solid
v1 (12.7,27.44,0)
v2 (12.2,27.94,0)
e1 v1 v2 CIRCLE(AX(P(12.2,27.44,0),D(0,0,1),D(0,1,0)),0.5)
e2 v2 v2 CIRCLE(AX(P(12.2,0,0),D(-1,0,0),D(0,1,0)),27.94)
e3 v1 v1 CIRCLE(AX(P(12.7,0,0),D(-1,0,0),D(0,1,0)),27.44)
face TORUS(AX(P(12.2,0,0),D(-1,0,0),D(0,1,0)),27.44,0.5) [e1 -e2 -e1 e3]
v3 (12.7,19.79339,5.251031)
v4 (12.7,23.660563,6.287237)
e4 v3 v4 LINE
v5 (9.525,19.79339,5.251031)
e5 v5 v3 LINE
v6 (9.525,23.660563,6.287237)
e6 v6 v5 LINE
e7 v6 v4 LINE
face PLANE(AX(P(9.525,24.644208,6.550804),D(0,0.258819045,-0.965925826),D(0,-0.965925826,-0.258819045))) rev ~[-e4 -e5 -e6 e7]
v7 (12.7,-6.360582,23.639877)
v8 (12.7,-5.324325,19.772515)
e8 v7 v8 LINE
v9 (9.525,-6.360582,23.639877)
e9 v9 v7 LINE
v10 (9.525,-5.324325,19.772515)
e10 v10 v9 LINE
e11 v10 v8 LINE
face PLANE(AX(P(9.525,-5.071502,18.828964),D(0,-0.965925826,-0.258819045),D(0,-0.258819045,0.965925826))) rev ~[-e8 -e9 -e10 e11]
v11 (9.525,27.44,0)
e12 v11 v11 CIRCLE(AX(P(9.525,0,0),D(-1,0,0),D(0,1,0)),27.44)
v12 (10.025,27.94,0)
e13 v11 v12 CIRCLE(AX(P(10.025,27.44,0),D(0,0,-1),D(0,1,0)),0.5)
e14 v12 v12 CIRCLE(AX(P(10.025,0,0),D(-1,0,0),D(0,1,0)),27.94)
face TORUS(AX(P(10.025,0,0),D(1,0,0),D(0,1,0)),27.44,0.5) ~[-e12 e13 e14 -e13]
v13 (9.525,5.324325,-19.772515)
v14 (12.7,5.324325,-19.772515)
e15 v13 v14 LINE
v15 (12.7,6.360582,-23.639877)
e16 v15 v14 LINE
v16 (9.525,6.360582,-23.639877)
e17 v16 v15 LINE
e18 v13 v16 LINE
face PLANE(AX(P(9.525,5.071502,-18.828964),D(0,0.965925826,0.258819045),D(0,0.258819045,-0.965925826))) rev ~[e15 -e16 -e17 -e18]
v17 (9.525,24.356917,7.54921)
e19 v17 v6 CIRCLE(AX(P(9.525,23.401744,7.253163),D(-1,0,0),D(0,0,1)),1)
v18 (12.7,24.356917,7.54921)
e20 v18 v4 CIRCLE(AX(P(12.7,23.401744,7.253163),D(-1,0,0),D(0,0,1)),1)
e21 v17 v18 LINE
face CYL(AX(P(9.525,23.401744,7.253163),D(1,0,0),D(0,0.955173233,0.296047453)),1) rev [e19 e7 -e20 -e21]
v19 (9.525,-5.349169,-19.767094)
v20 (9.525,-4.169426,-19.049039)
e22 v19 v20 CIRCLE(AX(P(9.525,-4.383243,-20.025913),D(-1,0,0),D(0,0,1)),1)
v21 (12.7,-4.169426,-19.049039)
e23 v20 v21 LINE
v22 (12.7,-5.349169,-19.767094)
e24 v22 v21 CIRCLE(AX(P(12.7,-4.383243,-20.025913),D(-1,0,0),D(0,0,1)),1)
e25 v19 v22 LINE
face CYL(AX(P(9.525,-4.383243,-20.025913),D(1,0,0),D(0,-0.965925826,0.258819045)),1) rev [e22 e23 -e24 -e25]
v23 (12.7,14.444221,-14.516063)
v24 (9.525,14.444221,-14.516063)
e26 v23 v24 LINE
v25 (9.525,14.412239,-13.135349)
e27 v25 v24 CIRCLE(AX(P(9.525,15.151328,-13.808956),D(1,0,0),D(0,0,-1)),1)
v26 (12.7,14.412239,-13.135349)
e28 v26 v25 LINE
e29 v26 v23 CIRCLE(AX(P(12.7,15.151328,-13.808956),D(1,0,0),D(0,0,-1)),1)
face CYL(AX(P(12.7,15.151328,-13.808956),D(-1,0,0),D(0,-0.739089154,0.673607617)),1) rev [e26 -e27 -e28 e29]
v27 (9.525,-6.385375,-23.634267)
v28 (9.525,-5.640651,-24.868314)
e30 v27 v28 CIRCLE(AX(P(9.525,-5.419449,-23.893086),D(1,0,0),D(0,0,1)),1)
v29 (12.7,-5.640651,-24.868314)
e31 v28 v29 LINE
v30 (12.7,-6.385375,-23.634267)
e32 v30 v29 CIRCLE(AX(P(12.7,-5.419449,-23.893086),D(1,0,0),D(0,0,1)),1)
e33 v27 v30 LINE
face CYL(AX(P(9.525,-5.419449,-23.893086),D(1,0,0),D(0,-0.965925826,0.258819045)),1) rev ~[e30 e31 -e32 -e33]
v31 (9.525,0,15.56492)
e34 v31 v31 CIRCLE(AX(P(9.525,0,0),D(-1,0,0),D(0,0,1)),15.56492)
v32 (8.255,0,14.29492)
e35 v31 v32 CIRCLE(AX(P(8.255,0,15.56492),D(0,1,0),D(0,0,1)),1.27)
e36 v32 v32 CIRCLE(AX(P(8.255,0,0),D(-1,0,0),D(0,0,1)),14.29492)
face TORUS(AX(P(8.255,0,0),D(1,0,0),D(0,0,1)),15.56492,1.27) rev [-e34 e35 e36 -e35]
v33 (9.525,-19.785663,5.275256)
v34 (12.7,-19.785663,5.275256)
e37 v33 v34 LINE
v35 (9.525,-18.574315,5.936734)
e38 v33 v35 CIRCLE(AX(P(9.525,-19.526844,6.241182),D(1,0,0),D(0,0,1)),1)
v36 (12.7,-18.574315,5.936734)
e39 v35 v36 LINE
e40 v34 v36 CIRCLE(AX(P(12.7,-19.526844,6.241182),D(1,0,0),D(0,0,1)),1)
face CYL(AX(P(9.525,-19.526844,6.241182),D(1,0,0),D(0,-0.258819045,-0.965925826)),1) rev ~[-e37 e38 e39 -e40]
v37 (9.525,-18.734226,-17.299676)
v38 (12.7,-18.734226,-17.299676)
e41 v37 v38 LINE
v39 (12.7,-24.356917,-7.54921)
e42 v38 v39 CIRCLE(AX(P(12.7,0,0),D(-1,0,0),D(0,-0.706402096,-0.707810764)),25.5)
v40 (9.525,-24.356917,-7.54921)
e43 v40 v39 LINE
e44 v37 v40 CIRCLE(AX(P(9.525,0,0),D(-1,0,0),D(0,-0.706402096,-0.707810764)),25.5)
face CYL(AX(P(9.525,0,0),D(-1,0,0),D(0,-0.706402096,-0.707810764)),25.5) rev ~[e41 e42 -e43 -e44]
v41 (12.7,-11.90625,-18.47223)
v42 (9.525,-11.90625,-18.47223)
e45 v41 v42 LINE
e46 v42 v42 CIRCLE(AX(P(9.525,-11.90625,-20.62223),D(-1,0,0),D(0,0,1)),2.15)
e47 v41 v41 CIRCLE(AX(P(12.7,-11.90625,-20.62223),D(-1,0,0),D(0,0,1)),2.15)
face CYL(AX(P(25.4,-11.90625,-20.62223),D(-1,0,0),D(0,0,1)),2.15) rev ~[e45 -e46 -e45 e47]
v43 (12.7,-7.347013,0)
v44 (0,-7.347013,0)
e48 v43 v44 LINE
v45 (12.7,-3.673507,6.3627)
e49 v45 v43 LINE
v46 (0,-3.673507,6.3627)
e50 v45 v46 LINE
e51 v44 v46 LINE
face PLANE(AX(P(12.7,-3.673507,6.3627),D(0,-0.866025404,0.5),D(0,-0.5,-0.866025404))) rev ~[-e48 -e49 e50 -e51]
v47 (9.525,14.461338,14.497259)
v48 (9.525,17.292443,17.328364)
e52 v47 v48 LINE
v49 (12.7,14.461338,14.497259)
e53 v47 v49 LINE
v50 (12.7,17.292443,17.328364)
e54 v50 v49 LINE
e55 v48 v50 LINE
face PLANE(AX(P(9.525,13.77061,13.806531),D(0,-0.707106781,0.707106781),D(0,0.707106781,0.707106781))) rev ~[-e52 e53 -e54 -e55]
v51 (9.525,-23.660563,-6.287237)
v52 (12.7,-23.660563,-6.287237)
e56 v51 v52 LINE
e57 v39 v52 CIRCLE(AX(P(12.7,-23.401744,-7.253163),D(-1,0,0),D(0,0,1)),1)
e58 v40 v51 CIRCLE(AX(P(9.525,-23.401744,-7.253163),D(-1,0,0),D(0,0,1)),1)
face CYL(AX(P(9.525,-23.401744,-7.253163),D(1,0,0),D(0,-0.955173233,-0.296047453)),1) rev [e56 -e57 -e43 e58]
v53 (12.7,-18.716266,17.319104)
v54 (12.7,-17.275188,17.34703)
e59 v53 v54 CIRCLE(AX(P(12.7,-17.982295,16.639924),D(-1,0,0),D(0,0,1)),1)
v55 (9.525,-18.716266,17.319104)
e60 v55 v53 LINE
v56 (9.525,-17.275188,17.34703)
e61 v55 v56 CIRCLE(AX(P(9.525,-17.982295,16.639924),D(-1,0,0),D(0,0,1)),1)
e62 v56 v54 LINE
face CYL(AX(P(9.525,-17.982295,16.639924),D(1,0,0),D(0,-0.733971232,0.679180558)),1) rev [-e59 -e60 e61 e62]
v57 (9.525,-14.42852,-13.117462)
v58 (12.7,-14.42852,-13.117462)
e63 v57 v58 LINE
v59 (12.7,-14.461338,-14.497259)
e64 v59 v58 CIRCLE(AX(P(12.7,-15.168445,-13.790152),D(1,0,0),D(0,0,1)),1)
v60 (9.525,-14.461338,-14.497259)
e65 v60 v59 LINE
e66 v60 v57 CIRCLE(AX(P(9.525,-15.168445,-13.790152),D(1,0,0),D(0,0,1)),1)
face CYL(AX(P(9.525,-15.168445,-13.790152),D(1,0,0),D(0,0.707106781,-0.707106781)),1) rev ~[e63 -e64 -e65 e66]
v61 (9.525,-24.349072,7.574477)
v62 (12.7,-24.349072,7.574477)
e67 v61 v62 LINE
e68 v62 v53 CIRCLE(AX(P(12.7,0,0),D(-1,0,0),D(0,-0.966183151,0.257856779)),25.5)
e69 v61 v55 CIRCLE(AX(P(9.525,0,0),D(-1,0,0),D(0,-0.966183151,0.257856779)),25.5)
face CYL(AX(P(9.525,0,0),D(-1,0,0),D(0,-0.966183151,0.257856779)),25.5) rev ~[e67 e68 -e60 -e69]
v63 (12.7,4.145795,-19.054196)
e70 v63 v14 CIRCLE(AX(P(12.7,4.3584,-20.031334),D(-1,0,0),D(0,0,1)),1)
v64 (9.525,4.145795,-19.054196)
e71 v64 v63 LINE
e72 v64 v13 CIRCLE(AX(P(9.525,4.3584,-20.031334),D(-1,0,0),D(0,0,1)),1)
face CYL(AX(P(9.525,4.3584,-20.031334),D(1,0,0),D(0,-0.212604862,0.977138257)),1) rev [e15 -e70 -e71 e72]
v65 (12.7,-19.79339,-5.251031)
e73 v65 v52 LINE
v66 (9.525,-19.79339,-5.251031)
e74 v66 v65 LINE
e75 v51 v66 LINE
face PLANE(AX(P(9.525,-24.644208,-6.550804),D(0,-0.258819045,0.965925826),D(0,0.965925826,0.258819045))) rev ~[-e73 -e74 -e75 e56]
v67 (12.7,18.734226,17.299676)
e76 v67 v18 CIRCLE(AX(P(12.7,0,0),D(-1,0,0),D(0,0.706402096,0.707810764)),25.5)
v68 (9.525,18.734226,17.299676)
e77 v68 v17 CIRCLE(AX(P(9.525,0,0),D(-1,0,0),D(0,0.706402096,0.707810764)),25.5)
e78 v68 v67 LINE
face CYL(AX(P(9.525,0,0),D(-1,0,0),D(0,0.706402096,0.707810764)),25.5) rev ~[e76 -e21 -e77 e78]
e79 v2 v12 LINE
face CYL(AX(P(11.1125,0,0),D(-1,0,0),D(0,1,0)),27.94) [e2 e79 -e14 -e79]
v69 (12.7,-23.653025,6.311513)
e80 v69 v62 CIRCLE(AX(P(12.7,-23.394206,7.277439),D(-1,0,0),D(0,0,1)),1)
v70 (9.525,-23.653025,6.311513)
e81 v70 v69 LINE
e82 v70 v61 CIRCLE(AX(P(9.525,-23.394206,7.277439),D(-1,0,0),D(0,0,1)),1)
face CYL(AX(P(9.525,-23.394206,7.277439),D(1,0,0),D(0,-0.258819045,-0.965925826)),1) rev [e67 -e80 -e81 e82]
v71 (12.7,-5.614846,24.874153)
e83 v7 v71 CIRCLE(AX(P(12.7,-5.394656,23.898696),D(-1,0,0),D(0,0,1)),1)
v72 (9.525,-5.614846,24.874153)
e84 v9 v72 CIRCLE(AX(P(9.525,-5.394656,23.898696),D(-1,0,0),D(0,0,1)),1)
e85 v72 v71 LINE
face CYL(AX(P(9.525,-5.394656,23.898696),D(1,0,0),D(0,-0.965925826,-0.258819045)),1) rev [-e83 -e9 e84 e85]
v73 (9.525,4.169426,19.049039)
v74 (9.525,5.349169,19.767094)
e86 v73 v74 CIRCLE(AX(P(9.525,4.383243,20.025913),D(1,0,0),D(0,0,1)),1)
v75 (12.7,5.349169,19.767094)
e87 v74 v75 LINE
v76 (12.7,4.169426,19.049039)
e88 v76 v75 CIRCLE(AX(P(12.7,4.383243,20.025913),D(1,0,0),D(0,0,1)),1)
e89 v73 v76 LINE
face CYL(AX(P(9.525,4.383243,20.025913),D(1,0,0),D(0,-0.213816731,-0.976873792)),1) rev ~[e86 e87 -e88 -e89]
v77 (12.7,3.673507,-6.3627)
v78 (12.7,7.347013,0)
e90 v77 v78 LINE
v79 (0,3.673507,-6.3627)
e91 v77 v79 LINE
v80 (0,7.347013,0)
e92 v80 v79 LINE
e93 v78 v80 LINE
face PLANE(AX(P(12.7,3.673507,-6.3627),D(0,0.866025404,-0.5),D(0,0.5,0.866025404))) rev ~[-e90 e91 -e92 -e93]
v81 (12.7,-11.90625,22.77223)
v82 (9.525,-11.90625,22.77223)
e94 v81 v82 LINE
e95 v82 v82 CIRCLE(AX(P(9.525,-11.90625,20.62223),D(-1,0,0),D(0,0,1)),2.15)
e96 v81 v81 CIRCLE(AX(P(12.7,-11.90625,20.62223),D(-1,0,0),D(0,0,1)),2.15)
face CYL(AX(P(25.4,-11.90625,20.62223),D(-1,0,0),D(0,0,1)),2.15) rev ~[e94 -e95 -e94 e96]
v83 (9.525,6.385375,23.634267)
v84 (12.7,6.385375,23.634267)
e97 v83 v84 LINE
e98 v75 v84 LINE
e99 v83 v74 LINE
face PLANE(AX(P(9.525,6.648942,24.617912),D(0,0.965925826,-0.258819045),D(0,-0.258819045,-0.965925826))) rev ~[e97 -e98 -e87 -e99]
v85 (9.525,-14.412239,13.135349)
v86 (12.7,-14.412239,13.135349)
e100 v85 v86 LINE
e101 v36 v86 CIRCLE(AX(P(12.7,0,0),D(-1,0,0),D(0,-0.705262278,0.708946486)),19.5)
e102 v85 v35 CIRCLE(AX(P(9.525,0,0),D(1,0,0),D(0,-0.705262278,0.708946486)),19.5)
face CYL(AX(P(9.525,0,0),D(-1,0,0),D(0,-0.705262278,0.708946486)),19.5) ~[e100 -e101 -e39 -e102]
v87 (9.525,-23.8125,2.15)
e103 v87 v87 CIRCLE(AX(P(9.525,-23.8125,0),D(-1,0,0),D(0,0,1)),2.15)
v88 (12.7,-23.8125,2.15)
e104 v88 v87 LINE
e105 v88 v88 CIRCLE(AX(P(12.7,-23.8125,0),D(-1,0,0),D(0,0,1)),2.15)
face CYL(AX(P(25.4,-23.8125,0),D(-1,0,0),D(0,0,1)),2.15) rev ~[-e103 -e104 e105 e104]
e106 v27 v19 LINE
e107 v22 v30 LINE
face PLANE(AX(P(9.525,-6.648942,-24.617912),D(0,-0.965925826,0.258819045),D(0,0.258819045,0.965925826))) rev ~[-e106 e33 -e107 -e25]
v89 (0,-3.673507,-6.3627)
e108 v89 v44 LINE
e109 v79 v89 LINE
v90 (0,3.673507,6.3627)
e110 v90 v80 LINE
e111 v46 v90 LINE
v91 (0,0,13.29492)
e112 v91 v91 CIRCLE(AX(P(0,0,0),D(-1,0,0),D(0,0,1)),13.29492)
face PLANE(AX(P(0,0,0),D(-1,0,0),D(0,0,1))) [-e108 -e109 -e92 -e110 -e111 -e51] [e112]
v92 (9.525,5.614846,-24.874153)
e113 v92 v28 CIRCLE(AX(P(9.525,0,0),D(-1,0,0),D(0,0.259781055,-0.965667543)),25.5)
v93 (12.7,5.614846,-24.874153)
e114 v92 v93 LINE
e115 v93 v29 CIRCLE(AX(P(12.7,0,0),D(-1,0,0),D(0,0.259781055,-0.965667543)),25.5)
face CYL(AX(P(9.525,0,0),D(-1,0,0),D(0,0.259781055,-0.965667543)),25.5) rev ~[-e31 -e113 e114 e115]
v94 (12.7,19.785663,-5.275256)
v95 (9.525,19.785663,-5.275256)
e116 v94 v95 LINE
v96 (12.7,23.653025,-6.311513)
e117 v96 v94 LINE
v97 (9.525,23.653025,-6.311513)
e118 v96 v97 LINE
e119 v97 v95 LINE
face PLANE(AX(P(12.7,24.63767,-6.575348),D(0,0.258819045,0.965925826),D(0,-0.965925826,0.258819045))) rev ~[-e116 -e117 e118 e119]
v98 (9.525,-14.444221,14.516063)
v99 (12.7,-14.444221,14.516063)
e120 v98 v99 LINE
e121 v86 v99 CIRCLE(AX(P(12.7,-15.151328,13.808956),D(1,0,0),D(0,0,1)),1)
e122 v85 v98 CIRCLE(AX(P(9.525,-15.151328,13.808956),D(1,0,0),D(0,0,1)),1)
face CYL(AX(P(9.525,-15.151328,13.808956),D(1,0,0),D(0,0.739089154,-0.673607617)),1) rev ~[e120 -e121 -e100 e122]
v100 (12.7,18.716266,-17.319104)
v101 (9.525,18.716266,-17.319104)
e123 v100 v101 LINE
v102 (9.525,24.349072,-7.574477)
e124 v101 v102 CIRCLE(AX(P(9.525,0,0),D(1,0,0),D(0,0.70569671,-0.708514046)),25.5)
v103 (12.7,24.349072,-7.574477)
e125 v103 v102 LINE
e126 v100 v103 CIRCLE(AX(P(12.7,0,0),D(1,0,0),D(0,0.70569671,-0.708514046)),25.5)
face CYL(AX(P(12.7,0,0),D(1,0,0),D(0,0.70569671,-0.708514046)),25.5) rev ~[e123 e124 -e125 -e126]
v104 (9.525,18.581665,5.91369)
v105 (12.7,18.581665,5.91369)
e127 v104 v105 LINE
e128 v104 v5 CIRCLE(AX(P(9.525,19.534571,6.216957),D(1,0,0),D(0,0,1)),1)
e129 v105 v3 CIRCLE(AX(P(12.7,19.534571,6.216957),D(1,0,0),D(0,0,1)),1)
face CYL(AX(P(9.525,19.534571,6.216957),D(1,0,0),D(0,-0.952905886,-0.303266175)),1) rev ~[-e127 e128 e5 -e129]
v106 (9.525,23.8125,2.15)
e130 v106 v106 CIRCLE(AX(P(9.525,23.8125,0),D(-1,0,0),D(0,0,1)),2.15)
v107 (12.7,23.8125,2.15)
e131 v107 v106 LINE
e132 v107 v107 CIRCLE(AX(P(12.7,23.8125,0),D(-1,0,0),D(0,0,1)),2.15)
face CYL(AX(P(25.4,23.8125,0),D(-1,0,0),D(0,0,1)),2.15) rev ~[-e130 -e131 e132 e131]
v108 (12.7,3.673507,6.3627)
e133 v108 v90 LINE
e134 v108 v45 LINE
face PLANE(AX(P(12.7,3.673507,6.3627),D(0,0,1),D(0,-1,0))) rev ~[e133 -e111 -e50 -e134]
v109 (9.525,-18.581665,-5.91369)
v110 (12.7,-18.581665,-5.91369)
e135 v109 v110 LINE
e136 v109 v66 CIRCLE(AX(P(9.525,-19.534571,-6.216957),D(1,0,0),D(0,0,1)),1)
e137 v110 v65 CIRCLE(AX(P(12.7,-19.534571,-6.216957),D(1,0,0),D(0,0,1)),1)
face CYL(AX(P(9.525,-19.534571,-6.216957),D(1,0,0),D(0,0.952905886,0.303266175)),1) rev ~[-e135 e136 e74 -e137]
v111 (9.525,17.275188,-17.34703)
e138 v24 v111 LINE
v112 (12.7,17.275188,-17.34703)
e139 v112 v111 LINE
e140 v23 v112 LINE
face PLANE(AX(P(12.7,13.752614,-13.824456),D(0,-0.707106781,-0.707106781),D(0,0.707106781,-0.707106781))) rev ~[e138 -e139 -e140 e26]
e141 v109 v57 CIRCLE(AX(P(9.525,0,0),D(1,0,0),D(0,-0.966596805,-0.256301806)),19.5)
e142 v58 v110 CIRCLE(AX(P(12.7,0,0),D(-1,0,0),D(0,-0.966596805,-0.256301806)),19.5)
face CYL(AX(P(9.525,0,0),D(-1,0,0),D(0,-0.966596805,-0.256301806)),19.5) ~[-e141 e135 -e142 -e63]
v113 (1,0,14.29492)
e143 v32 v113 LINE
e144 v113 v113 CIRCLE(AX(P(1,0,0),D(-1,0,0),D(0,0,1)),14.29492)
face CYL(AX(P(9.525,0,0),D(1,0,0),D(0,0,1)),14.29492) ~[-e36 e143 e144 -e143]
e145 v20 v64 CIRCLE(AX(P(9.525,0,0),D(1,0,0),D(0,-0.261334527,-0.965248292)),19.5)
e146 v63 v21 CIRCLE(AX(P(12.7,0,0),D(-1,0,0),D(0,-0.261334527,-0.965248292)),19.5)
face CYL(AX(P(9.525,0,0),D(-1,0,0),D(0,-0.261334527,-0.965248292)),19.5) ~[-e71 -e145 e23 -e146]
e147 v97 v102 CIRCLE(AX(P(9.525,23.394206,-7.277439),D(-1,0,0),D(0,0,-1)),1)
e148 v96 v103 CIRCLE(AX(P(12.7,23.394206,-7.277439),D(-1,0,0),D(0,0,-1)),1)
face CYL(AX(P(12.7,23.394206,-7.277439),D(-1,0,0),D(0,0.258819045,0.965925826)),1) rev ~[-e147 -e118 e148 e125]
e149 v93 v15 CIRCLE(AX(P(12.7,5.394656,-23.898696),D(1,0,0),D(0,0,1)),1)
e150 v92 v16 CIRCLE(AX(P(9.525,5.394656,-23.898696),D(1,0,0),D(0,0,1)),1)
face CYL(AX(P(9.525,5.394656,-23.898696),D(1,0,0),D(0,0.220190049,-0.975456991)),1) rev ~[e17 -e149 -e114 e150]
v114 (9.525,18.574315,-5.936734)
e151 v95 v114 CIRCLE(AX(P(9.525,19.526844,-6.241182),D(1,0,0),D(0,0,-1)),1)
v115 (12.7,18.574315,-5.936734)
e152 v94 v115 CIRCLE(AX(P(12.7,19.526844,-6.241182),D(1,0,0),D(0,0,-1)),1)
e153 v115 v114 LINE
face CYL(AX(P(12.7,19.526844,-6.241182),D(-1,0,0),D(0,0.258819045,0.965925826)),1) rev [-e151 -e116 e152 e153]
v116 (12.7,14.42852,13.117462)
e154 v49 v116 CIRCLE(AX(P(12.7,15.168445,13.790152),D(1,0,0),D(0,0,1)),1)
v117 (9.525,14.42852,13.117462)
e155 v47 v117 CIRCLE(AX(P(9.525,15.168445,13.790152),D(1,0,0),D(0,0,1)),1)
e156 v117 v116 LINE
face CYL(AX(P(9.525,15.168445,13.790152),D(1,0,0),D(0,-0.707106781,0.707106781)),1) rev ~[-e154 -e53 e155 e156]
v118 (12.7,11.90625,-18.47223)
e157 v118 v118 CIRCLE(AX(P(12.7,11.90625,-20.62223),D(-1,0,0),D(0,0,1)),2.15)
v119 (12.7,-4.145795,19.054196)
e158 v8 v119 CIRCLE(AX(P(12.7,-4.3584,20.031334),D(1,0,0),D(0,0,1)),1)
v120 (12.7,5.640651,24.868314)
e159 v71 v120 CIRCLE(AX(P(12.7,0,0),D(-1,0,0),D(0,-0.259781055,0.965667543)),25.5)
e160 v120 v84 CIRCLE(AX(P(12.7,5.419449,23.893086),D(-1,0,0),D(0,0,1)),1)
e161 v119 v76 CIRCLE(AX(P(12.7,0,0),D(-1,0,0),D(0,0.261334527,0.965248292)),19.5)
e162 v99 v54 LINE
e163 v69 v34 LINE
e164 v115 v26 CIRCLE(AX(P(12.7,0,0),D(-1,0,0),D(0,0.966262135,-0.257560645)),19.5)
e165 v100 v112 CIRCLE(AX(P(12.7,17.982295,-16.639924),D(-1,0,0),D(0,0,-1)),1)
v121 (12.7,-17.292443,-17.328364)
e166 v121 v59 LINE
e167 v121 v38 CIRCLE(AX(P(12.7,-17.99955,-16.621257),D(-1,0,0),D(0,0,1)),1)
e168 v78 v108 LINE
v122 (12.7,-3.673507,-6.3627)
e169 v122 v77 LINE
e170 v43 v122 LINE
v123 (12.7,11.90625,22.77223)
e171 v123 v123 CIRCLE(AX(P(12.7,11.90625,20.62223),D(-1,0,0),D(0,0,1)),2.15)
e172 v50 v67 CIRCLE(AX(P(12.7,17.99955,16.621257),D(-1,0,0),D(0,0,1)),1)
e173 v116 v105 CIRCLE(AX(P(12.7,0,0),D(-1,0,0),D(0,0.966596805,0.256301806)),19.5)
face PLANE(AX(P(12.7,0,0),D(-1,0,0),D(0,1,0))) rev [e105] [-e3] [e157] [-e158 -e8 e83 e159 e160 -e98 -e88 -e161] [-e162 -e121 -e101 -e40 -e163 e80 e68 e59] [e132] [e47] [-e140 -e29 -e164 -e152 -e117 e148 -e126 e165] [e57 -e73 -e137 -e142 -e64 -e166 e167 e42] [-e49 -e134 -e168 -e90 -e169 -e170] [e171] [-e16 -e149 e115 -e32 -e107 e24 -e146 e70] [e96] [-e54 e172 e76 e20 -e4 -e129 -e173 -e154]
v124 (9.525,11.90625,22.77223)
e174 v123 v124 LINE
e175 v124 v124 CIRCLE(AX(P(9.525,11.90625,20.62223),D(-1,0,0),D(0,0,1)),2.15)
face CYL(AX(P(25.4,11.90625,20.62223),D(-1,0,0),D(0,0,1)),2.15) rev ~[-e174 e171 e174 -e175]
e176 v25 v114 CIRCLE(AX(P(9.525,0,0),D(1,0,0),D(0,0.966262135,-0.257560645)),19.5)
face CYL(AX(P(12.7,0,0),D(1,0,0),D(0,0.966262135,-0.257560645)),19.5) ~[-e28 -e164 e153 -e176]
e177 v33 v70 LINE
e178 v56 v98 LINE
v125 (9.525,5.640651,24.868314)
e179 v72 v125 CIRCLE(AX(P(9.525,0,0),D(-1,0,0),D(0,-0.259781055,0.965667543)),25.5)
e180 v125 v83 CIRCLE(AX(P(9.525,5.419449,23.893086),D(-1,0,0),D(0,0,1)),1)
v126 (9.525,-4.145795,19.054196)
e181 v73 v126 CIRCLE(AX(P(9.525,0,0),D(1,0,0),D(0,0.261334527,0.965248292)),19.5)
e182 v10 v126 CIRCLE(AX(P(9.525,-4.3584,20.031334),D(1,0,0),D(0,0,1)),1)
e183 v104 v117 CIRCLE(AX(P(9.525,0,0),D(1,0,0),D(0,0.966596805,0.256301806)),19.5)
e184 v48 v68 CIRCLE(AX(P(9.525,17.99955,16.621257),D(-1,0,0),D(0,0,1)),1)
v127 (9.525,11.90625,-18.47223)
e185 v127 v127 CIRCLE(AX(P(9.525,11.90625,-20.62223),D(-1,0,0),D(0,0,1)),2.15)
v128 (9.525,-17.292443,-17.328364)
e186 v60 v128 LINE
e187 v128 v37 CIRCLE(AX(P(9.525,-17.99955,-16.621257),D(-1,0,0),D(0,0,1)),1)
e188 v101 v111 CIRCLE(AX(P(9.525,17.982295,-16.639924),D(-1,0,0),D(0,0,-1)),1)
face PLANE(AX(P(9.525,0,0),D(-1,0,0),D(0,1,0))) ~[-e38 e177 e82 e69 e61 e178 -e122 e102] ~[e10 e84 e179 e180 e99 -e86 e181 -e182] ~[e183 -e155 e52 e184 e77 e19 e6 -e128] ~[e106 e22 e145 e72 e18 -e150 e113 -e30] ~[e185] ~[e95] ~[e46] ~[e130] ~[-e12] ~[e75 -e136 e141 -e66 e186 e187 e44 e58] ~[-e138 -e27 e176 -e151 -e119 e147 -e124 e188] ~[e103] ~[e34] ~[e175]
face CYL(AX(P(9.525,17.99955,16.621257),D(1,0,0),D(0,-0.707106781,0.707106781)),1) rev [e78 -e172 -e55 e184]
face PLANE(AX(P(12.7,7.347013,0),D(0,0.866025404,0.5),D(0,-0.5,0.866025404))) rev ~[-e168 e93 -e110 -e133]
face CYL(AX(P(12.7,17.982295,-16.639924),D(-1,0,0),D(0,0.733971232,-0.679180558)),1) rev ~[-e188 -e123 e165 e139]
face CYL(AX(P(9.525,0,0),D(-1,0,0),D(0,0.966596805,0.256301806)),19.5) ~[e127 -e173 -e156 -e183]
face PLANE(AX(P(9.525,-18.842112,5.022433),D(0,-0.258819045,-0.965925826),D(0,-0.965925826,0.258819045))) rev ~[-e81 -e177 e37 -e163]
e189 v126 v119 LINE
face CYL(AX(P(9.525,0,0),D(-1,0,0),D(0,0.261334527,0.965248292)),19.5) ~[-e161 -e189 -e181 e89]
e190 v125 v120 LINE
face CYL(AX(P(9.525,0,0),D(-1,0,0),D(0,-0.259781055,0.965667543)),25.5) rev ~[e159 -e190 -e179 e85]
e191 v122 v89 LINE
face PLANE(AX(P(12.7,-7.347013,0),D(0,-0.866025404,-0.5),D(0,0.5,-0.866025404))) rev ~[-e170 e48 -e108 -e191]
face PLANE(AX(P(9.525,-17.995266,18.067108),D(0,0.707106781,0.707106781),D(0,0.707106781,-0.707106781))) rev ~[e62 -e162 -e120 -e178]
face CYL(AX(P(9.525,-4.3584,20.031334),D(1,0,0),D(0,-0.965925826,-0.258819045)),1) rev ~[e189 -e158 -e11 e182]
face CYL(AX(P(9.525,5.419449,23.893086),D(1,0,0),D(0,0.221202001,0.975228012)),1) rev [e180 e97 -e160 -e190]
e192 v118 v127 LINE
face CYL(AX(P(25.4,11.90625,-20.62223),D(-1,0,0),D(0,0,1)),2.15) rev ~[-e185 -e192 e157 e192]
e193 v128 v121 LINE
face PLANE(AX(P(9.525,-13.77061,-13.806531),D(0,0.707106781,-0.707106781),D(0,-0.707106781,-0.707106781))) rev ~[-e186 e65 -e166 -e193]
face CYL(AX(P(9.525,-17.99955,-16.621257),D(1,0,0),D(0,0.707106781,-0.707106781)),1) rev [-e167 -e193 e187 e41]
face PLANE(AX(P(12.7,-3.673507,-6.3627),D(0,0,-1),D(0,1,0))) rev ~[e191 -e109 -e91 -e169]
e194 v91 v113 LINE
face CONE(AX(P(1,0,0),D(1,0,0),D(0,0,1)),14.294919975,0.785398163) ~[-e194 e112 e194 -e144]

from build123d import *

# Parameters (mm, degrees)
SKETCH1_W                      = 3.175
SKETCH1_H                      = 27.94
CUT_EXTRUDE1_DEPTH             = 4.175
CUT_EXTRUDE2_DEPTH             = 4.175
CUT_EXTRUDE3_DEPTH             = 4.175
CUT_EXTRUDE4_DEPTH             = 4.175
CUT_EXTRUDE5_DEPTH             = 4.175
CUT_EXTRUDE6_DEPTH             = 4.175
SKETCH8_R                      = 14.294919975
BOSS_EXTRUDE1_DEPTH            = 9.525
CUT_EXTRUDE7_DEPTH             = 13.7
F_4_3_4_3_DIAMETER_HOLE1_D     = 4.3
F_4_3_4_3_DIAMETER_HOLE1_DEPTH = 12.7
CHAMFER1_SIZE                  = 1
FILLET1_R                      = 0.5
FILLET2_R                      = 1
FILLET3_R                      = 1.27


with BuildPart() as part:
    # Sketch1 → Revolve1 (revolve)
    with BuildSketch(Plane(origin=(0, 0, 0), x_dir=(-1, 0, 0), z_dir=(0, 0, -1))):
        with Locations((-11.1125, 13.97)):
            Rectangle(SKETCH1_W, SKETCH1_H)
    revolve(axis=Axis((12.7, 0, 0), (-1, 0, 0)))

    # Sketch2 → Cut-Extrude1 (cut, through all)
    with BuildSketch(Plane.ZY.offset(-9.525)):
        with BuildLine():
            Line((-13.806531048, -13.770610024), (-18.049174487, -18.013253463))
            ThreePointArc((-18.049174487, -18.013253463), (-12.738999884, -22.089995065), (-6.550803522, -24.644207701))
            Line((-6.550803522, -24.644207701), (-4.997885221, -18.848637704))
            ThreePointArc((-4.997885221, -18.848637704), (-9.738999389, -16.893841804), (-13.806531048, -13.770610024))
        make_face()
    extrude(amount=-CUT_EXTRUDE1_DEPTH, mode=Mode.SUBTRACT)

    # Sketch3 → Cut-Extrude2 (cut, through all)
    with BuildSketch(Plane.ZY.offset(-9.525)):
        with BuildLine():
            Line((5.022432582, -18.842111637), (6.57534786, -24.637670355))
            ThreePointArc((6.57534786, -24.637670355), (12.760996954, -22.077295051), (18.067108165, -17.995266116))
            Line((18.067108165, -17.995266116), (13.824456468, -13.752614419))
            ThreePointArc((13.824456468, -13.752614419), (9.760996476, -16.88114178), (5.022432582, -18.842111637))
        make_face()
    extrude(amount=-CUT_EXTRUDE2_DEPTH, mode=Mode.SUBTRACT)

    # Sketch4 → Cut-Extrude3 (cut, through all)
    with BuildSketch(Plane.ZY.offset(-9.525)):
        with BuildLine():
            Line((18.82896363, -5.071501614), (24.624522347, -6.624416892))
            ThreePointArc((24.624522347, -6.624416892), (25.499996837, 0.012700014), (24.617911686, 6.648941586))
            Line((24.617911686, 6.648941586), (18.822341689, 5.096023285))
            ThreePointArc((18.822341689, 5.096023285), (19.499995864, 0.012700024), (18.82896363, -5.071501614))
        make_face()
    extrude(amount=-CUT_EXTRUDE3_DEPTH, mode=Mode.SUBTRACT)

    # Sketch5 → Cut-Extrude4 (cut, through all)
    with BuildSketch(Plane.ZY.offset(-9.525)):
        with BuildLine():
            Line((13.806531048, 13.770610024), (18.049174487, 18.013253463))
            ThreePointArc((18.049174487, 18.013253463), (12.738999884, 22.089995065), (6.550803522, 24.644207701))
            Line((6.550803522, 24.644207701), (4.997885221, 18.848637704))
            ThreePointArc((4.997885221, 18.848637704), (9.738999389, 16.893841804), (13.806531048, 13.770610024))
        make_face()
    extrude(amount=-CUT_EXTRUDE4_DEPTH, mode=Mode.SUBTRACT)

    # Sketch6 → Cut-Extrude5 (cut, through all)
    with BuildSketch(Plane.ZY.offset(-9.525)):
        with BuildLine():
            Line((-24.617911686, -6.648941586), (-18.822341689, -5.096023285))
            ThreePointArc((-18.822341689, -5.096023285), (-19.499995864, -0.012700024), (-18.82896363, 5.071501614))
            Line((-18.82896363, 5.071501614), (-24.624522347, 6.624416892))
            ThreePointArc((-24.624522347, 6.624416892), (-25.499996837, -0.012700014), (-24.617911686, -6.648941586))
        make_face()
    extrude(amount=-CUT_EXTRUDE5_DEPTH, mode=Mode.SUBTRACT)

    # Sketch7 → Cut-Extrude6 (cut, through all)
    with BuildSketch(Plane(origin=(12.7, 0, 0), x_dir=(0, 0, -1), z_dir=(1, 0, 0))):
        with BuildLine():
            Line((6.57534786, 24.637670355), (5.022432582, 18.842111637))
            ThreePointArc((5.022432582, 18.842111637), (9.760996476, 16.88114178), (13.824456468, 13.752614419))
            Line((13.824456468, 13.752614419), (18.067108165, 17.995266116))
            ThreePointArc((18.067108165, 17.995266116), (12.760996954, 22.077295051), (6.57534786, 24.637670355))
        make_face()
    extrude(amount=-CUT_EXTRUDE6_DEPTH, mode=Mode.SUBTRACT)

    # Sketch8 → Boss-Extrude1 (add)
    with BuildSketch(Plane.ZY.offset(-9.525)):
        Circle(SKETCH8_R)
    extrude(amount=BOSS_EXTRUDE1_DEPTH)

    # Sketch9 → Cut-Extrude7 (cut, through all)
    with BuildSketch(Plane(origin=(12.7, 0, 0), x_dir=(0, 0, -1), z_dir=(1, 0, 0))):
        Polygon((-6.3627, 3.673506558), (-6.3627, -3.673506558), (0, -7.347013116), (6.3627, -3.673506558), (6.3627, 3.673506558), (0, 7.347013116), align=None)
    extrude(amount=-CUT_EXTRUDE7_DEPTH, mode=Mode.SUBTRACT)

    # Ø4.3 (4.3) Diameter Hole1
    with Locations(Plane(origin=(12.7, 0, 0), x_dir=(0, 0, -1), z_dir=(1, 0, 0))):
        with Locations((20.622229928, 11.90625), (20.622229928, -11.90625), (0, -23.8125), (-20.622229928, -11.90625), (-20.622229928, 11.90625), (0, 23.8125)):
            Hole(F_4_3_4_3_DIAMETER_HOLE1_D / 2, depth=F_4_3_4_3_DIAMETER_HOLE1_DEPTH)

    # Chamfer1
    chamfer1_edges = [part.edges().sort_by_distance(p)[0] for p in [
        (0, 0, -14.294919975),
    ]]
    chamfer(chamfer1_edges, length=CHAMFER1_SIZE)

    # Fillet1
    fillet1_edges = [part.edges().sort_by_distance(p)[0] for p in [
        (9.525, -27.94, 0),
        (12.7, -27.94, 0),
    ]]
    fillet(fillet1_edges, radius=FILLET1_R)

    # Fillet2
    fillet2_edges = [part.edges().sort_by_distance(p)[0] for p in [
        (11.1125, -13.770610024, -13.806531048),
        (11.1125, -18.848637704, -4.997885221),
        (11.1125, -24.644207701, -6.550803522),
        (11.1125, -18.013253463, -18.049174487),
        (11.1125, -18.842111637, 5.022432582),
        (11.1125, -13.752614419, 13.824456468),
        (11.1125, -17.995266116, 18.067108165),
        (11.1125, -24.637670355, 6.57534786),
        (11.1125, -5.071501614, 18.82896363),
        (11.1125, 5.096023285, 18.822341689),
        (11.1125, 6.648941586, 24.617911686),
        (11.1125, -6.624416892, 24.624522347),
        (11.1125, 13.770610024, 13.806531048),
        (11.1125, 18.848637704, 4.997885221),
        (11.1125, 24.644207701, 6.550803522),
        (11.1125, 18.013253463, 18.049174487),
        (11.1125, -6.648941586, -24.617911686),
        (11.1125, 6.624416892, -24.624522347),
        (11.1125, 5.071501614, -18.82896363),
        (11.1125, -5.096023285, -18.822341689),
        (11.1125, 24.637670355, -6.57534786),
        (11.1125, 17.995266116, -18.067108165),
        (11.1125, 13.752614419, -13.824456468),
        (11.1125, 18.842111637, -5.022432582),
    ]]
    fillet(fillet2_edges, radius=FILLET2_R)

    # Fillet3
    fillet3_edges = [part.edges().sort_by_distance(p)[0] for p in [
        (9.525, 0, -14.294919975),
    ]]
    fillet(fillet3_edges, radius=FILLET3_R)


solid = part.part
